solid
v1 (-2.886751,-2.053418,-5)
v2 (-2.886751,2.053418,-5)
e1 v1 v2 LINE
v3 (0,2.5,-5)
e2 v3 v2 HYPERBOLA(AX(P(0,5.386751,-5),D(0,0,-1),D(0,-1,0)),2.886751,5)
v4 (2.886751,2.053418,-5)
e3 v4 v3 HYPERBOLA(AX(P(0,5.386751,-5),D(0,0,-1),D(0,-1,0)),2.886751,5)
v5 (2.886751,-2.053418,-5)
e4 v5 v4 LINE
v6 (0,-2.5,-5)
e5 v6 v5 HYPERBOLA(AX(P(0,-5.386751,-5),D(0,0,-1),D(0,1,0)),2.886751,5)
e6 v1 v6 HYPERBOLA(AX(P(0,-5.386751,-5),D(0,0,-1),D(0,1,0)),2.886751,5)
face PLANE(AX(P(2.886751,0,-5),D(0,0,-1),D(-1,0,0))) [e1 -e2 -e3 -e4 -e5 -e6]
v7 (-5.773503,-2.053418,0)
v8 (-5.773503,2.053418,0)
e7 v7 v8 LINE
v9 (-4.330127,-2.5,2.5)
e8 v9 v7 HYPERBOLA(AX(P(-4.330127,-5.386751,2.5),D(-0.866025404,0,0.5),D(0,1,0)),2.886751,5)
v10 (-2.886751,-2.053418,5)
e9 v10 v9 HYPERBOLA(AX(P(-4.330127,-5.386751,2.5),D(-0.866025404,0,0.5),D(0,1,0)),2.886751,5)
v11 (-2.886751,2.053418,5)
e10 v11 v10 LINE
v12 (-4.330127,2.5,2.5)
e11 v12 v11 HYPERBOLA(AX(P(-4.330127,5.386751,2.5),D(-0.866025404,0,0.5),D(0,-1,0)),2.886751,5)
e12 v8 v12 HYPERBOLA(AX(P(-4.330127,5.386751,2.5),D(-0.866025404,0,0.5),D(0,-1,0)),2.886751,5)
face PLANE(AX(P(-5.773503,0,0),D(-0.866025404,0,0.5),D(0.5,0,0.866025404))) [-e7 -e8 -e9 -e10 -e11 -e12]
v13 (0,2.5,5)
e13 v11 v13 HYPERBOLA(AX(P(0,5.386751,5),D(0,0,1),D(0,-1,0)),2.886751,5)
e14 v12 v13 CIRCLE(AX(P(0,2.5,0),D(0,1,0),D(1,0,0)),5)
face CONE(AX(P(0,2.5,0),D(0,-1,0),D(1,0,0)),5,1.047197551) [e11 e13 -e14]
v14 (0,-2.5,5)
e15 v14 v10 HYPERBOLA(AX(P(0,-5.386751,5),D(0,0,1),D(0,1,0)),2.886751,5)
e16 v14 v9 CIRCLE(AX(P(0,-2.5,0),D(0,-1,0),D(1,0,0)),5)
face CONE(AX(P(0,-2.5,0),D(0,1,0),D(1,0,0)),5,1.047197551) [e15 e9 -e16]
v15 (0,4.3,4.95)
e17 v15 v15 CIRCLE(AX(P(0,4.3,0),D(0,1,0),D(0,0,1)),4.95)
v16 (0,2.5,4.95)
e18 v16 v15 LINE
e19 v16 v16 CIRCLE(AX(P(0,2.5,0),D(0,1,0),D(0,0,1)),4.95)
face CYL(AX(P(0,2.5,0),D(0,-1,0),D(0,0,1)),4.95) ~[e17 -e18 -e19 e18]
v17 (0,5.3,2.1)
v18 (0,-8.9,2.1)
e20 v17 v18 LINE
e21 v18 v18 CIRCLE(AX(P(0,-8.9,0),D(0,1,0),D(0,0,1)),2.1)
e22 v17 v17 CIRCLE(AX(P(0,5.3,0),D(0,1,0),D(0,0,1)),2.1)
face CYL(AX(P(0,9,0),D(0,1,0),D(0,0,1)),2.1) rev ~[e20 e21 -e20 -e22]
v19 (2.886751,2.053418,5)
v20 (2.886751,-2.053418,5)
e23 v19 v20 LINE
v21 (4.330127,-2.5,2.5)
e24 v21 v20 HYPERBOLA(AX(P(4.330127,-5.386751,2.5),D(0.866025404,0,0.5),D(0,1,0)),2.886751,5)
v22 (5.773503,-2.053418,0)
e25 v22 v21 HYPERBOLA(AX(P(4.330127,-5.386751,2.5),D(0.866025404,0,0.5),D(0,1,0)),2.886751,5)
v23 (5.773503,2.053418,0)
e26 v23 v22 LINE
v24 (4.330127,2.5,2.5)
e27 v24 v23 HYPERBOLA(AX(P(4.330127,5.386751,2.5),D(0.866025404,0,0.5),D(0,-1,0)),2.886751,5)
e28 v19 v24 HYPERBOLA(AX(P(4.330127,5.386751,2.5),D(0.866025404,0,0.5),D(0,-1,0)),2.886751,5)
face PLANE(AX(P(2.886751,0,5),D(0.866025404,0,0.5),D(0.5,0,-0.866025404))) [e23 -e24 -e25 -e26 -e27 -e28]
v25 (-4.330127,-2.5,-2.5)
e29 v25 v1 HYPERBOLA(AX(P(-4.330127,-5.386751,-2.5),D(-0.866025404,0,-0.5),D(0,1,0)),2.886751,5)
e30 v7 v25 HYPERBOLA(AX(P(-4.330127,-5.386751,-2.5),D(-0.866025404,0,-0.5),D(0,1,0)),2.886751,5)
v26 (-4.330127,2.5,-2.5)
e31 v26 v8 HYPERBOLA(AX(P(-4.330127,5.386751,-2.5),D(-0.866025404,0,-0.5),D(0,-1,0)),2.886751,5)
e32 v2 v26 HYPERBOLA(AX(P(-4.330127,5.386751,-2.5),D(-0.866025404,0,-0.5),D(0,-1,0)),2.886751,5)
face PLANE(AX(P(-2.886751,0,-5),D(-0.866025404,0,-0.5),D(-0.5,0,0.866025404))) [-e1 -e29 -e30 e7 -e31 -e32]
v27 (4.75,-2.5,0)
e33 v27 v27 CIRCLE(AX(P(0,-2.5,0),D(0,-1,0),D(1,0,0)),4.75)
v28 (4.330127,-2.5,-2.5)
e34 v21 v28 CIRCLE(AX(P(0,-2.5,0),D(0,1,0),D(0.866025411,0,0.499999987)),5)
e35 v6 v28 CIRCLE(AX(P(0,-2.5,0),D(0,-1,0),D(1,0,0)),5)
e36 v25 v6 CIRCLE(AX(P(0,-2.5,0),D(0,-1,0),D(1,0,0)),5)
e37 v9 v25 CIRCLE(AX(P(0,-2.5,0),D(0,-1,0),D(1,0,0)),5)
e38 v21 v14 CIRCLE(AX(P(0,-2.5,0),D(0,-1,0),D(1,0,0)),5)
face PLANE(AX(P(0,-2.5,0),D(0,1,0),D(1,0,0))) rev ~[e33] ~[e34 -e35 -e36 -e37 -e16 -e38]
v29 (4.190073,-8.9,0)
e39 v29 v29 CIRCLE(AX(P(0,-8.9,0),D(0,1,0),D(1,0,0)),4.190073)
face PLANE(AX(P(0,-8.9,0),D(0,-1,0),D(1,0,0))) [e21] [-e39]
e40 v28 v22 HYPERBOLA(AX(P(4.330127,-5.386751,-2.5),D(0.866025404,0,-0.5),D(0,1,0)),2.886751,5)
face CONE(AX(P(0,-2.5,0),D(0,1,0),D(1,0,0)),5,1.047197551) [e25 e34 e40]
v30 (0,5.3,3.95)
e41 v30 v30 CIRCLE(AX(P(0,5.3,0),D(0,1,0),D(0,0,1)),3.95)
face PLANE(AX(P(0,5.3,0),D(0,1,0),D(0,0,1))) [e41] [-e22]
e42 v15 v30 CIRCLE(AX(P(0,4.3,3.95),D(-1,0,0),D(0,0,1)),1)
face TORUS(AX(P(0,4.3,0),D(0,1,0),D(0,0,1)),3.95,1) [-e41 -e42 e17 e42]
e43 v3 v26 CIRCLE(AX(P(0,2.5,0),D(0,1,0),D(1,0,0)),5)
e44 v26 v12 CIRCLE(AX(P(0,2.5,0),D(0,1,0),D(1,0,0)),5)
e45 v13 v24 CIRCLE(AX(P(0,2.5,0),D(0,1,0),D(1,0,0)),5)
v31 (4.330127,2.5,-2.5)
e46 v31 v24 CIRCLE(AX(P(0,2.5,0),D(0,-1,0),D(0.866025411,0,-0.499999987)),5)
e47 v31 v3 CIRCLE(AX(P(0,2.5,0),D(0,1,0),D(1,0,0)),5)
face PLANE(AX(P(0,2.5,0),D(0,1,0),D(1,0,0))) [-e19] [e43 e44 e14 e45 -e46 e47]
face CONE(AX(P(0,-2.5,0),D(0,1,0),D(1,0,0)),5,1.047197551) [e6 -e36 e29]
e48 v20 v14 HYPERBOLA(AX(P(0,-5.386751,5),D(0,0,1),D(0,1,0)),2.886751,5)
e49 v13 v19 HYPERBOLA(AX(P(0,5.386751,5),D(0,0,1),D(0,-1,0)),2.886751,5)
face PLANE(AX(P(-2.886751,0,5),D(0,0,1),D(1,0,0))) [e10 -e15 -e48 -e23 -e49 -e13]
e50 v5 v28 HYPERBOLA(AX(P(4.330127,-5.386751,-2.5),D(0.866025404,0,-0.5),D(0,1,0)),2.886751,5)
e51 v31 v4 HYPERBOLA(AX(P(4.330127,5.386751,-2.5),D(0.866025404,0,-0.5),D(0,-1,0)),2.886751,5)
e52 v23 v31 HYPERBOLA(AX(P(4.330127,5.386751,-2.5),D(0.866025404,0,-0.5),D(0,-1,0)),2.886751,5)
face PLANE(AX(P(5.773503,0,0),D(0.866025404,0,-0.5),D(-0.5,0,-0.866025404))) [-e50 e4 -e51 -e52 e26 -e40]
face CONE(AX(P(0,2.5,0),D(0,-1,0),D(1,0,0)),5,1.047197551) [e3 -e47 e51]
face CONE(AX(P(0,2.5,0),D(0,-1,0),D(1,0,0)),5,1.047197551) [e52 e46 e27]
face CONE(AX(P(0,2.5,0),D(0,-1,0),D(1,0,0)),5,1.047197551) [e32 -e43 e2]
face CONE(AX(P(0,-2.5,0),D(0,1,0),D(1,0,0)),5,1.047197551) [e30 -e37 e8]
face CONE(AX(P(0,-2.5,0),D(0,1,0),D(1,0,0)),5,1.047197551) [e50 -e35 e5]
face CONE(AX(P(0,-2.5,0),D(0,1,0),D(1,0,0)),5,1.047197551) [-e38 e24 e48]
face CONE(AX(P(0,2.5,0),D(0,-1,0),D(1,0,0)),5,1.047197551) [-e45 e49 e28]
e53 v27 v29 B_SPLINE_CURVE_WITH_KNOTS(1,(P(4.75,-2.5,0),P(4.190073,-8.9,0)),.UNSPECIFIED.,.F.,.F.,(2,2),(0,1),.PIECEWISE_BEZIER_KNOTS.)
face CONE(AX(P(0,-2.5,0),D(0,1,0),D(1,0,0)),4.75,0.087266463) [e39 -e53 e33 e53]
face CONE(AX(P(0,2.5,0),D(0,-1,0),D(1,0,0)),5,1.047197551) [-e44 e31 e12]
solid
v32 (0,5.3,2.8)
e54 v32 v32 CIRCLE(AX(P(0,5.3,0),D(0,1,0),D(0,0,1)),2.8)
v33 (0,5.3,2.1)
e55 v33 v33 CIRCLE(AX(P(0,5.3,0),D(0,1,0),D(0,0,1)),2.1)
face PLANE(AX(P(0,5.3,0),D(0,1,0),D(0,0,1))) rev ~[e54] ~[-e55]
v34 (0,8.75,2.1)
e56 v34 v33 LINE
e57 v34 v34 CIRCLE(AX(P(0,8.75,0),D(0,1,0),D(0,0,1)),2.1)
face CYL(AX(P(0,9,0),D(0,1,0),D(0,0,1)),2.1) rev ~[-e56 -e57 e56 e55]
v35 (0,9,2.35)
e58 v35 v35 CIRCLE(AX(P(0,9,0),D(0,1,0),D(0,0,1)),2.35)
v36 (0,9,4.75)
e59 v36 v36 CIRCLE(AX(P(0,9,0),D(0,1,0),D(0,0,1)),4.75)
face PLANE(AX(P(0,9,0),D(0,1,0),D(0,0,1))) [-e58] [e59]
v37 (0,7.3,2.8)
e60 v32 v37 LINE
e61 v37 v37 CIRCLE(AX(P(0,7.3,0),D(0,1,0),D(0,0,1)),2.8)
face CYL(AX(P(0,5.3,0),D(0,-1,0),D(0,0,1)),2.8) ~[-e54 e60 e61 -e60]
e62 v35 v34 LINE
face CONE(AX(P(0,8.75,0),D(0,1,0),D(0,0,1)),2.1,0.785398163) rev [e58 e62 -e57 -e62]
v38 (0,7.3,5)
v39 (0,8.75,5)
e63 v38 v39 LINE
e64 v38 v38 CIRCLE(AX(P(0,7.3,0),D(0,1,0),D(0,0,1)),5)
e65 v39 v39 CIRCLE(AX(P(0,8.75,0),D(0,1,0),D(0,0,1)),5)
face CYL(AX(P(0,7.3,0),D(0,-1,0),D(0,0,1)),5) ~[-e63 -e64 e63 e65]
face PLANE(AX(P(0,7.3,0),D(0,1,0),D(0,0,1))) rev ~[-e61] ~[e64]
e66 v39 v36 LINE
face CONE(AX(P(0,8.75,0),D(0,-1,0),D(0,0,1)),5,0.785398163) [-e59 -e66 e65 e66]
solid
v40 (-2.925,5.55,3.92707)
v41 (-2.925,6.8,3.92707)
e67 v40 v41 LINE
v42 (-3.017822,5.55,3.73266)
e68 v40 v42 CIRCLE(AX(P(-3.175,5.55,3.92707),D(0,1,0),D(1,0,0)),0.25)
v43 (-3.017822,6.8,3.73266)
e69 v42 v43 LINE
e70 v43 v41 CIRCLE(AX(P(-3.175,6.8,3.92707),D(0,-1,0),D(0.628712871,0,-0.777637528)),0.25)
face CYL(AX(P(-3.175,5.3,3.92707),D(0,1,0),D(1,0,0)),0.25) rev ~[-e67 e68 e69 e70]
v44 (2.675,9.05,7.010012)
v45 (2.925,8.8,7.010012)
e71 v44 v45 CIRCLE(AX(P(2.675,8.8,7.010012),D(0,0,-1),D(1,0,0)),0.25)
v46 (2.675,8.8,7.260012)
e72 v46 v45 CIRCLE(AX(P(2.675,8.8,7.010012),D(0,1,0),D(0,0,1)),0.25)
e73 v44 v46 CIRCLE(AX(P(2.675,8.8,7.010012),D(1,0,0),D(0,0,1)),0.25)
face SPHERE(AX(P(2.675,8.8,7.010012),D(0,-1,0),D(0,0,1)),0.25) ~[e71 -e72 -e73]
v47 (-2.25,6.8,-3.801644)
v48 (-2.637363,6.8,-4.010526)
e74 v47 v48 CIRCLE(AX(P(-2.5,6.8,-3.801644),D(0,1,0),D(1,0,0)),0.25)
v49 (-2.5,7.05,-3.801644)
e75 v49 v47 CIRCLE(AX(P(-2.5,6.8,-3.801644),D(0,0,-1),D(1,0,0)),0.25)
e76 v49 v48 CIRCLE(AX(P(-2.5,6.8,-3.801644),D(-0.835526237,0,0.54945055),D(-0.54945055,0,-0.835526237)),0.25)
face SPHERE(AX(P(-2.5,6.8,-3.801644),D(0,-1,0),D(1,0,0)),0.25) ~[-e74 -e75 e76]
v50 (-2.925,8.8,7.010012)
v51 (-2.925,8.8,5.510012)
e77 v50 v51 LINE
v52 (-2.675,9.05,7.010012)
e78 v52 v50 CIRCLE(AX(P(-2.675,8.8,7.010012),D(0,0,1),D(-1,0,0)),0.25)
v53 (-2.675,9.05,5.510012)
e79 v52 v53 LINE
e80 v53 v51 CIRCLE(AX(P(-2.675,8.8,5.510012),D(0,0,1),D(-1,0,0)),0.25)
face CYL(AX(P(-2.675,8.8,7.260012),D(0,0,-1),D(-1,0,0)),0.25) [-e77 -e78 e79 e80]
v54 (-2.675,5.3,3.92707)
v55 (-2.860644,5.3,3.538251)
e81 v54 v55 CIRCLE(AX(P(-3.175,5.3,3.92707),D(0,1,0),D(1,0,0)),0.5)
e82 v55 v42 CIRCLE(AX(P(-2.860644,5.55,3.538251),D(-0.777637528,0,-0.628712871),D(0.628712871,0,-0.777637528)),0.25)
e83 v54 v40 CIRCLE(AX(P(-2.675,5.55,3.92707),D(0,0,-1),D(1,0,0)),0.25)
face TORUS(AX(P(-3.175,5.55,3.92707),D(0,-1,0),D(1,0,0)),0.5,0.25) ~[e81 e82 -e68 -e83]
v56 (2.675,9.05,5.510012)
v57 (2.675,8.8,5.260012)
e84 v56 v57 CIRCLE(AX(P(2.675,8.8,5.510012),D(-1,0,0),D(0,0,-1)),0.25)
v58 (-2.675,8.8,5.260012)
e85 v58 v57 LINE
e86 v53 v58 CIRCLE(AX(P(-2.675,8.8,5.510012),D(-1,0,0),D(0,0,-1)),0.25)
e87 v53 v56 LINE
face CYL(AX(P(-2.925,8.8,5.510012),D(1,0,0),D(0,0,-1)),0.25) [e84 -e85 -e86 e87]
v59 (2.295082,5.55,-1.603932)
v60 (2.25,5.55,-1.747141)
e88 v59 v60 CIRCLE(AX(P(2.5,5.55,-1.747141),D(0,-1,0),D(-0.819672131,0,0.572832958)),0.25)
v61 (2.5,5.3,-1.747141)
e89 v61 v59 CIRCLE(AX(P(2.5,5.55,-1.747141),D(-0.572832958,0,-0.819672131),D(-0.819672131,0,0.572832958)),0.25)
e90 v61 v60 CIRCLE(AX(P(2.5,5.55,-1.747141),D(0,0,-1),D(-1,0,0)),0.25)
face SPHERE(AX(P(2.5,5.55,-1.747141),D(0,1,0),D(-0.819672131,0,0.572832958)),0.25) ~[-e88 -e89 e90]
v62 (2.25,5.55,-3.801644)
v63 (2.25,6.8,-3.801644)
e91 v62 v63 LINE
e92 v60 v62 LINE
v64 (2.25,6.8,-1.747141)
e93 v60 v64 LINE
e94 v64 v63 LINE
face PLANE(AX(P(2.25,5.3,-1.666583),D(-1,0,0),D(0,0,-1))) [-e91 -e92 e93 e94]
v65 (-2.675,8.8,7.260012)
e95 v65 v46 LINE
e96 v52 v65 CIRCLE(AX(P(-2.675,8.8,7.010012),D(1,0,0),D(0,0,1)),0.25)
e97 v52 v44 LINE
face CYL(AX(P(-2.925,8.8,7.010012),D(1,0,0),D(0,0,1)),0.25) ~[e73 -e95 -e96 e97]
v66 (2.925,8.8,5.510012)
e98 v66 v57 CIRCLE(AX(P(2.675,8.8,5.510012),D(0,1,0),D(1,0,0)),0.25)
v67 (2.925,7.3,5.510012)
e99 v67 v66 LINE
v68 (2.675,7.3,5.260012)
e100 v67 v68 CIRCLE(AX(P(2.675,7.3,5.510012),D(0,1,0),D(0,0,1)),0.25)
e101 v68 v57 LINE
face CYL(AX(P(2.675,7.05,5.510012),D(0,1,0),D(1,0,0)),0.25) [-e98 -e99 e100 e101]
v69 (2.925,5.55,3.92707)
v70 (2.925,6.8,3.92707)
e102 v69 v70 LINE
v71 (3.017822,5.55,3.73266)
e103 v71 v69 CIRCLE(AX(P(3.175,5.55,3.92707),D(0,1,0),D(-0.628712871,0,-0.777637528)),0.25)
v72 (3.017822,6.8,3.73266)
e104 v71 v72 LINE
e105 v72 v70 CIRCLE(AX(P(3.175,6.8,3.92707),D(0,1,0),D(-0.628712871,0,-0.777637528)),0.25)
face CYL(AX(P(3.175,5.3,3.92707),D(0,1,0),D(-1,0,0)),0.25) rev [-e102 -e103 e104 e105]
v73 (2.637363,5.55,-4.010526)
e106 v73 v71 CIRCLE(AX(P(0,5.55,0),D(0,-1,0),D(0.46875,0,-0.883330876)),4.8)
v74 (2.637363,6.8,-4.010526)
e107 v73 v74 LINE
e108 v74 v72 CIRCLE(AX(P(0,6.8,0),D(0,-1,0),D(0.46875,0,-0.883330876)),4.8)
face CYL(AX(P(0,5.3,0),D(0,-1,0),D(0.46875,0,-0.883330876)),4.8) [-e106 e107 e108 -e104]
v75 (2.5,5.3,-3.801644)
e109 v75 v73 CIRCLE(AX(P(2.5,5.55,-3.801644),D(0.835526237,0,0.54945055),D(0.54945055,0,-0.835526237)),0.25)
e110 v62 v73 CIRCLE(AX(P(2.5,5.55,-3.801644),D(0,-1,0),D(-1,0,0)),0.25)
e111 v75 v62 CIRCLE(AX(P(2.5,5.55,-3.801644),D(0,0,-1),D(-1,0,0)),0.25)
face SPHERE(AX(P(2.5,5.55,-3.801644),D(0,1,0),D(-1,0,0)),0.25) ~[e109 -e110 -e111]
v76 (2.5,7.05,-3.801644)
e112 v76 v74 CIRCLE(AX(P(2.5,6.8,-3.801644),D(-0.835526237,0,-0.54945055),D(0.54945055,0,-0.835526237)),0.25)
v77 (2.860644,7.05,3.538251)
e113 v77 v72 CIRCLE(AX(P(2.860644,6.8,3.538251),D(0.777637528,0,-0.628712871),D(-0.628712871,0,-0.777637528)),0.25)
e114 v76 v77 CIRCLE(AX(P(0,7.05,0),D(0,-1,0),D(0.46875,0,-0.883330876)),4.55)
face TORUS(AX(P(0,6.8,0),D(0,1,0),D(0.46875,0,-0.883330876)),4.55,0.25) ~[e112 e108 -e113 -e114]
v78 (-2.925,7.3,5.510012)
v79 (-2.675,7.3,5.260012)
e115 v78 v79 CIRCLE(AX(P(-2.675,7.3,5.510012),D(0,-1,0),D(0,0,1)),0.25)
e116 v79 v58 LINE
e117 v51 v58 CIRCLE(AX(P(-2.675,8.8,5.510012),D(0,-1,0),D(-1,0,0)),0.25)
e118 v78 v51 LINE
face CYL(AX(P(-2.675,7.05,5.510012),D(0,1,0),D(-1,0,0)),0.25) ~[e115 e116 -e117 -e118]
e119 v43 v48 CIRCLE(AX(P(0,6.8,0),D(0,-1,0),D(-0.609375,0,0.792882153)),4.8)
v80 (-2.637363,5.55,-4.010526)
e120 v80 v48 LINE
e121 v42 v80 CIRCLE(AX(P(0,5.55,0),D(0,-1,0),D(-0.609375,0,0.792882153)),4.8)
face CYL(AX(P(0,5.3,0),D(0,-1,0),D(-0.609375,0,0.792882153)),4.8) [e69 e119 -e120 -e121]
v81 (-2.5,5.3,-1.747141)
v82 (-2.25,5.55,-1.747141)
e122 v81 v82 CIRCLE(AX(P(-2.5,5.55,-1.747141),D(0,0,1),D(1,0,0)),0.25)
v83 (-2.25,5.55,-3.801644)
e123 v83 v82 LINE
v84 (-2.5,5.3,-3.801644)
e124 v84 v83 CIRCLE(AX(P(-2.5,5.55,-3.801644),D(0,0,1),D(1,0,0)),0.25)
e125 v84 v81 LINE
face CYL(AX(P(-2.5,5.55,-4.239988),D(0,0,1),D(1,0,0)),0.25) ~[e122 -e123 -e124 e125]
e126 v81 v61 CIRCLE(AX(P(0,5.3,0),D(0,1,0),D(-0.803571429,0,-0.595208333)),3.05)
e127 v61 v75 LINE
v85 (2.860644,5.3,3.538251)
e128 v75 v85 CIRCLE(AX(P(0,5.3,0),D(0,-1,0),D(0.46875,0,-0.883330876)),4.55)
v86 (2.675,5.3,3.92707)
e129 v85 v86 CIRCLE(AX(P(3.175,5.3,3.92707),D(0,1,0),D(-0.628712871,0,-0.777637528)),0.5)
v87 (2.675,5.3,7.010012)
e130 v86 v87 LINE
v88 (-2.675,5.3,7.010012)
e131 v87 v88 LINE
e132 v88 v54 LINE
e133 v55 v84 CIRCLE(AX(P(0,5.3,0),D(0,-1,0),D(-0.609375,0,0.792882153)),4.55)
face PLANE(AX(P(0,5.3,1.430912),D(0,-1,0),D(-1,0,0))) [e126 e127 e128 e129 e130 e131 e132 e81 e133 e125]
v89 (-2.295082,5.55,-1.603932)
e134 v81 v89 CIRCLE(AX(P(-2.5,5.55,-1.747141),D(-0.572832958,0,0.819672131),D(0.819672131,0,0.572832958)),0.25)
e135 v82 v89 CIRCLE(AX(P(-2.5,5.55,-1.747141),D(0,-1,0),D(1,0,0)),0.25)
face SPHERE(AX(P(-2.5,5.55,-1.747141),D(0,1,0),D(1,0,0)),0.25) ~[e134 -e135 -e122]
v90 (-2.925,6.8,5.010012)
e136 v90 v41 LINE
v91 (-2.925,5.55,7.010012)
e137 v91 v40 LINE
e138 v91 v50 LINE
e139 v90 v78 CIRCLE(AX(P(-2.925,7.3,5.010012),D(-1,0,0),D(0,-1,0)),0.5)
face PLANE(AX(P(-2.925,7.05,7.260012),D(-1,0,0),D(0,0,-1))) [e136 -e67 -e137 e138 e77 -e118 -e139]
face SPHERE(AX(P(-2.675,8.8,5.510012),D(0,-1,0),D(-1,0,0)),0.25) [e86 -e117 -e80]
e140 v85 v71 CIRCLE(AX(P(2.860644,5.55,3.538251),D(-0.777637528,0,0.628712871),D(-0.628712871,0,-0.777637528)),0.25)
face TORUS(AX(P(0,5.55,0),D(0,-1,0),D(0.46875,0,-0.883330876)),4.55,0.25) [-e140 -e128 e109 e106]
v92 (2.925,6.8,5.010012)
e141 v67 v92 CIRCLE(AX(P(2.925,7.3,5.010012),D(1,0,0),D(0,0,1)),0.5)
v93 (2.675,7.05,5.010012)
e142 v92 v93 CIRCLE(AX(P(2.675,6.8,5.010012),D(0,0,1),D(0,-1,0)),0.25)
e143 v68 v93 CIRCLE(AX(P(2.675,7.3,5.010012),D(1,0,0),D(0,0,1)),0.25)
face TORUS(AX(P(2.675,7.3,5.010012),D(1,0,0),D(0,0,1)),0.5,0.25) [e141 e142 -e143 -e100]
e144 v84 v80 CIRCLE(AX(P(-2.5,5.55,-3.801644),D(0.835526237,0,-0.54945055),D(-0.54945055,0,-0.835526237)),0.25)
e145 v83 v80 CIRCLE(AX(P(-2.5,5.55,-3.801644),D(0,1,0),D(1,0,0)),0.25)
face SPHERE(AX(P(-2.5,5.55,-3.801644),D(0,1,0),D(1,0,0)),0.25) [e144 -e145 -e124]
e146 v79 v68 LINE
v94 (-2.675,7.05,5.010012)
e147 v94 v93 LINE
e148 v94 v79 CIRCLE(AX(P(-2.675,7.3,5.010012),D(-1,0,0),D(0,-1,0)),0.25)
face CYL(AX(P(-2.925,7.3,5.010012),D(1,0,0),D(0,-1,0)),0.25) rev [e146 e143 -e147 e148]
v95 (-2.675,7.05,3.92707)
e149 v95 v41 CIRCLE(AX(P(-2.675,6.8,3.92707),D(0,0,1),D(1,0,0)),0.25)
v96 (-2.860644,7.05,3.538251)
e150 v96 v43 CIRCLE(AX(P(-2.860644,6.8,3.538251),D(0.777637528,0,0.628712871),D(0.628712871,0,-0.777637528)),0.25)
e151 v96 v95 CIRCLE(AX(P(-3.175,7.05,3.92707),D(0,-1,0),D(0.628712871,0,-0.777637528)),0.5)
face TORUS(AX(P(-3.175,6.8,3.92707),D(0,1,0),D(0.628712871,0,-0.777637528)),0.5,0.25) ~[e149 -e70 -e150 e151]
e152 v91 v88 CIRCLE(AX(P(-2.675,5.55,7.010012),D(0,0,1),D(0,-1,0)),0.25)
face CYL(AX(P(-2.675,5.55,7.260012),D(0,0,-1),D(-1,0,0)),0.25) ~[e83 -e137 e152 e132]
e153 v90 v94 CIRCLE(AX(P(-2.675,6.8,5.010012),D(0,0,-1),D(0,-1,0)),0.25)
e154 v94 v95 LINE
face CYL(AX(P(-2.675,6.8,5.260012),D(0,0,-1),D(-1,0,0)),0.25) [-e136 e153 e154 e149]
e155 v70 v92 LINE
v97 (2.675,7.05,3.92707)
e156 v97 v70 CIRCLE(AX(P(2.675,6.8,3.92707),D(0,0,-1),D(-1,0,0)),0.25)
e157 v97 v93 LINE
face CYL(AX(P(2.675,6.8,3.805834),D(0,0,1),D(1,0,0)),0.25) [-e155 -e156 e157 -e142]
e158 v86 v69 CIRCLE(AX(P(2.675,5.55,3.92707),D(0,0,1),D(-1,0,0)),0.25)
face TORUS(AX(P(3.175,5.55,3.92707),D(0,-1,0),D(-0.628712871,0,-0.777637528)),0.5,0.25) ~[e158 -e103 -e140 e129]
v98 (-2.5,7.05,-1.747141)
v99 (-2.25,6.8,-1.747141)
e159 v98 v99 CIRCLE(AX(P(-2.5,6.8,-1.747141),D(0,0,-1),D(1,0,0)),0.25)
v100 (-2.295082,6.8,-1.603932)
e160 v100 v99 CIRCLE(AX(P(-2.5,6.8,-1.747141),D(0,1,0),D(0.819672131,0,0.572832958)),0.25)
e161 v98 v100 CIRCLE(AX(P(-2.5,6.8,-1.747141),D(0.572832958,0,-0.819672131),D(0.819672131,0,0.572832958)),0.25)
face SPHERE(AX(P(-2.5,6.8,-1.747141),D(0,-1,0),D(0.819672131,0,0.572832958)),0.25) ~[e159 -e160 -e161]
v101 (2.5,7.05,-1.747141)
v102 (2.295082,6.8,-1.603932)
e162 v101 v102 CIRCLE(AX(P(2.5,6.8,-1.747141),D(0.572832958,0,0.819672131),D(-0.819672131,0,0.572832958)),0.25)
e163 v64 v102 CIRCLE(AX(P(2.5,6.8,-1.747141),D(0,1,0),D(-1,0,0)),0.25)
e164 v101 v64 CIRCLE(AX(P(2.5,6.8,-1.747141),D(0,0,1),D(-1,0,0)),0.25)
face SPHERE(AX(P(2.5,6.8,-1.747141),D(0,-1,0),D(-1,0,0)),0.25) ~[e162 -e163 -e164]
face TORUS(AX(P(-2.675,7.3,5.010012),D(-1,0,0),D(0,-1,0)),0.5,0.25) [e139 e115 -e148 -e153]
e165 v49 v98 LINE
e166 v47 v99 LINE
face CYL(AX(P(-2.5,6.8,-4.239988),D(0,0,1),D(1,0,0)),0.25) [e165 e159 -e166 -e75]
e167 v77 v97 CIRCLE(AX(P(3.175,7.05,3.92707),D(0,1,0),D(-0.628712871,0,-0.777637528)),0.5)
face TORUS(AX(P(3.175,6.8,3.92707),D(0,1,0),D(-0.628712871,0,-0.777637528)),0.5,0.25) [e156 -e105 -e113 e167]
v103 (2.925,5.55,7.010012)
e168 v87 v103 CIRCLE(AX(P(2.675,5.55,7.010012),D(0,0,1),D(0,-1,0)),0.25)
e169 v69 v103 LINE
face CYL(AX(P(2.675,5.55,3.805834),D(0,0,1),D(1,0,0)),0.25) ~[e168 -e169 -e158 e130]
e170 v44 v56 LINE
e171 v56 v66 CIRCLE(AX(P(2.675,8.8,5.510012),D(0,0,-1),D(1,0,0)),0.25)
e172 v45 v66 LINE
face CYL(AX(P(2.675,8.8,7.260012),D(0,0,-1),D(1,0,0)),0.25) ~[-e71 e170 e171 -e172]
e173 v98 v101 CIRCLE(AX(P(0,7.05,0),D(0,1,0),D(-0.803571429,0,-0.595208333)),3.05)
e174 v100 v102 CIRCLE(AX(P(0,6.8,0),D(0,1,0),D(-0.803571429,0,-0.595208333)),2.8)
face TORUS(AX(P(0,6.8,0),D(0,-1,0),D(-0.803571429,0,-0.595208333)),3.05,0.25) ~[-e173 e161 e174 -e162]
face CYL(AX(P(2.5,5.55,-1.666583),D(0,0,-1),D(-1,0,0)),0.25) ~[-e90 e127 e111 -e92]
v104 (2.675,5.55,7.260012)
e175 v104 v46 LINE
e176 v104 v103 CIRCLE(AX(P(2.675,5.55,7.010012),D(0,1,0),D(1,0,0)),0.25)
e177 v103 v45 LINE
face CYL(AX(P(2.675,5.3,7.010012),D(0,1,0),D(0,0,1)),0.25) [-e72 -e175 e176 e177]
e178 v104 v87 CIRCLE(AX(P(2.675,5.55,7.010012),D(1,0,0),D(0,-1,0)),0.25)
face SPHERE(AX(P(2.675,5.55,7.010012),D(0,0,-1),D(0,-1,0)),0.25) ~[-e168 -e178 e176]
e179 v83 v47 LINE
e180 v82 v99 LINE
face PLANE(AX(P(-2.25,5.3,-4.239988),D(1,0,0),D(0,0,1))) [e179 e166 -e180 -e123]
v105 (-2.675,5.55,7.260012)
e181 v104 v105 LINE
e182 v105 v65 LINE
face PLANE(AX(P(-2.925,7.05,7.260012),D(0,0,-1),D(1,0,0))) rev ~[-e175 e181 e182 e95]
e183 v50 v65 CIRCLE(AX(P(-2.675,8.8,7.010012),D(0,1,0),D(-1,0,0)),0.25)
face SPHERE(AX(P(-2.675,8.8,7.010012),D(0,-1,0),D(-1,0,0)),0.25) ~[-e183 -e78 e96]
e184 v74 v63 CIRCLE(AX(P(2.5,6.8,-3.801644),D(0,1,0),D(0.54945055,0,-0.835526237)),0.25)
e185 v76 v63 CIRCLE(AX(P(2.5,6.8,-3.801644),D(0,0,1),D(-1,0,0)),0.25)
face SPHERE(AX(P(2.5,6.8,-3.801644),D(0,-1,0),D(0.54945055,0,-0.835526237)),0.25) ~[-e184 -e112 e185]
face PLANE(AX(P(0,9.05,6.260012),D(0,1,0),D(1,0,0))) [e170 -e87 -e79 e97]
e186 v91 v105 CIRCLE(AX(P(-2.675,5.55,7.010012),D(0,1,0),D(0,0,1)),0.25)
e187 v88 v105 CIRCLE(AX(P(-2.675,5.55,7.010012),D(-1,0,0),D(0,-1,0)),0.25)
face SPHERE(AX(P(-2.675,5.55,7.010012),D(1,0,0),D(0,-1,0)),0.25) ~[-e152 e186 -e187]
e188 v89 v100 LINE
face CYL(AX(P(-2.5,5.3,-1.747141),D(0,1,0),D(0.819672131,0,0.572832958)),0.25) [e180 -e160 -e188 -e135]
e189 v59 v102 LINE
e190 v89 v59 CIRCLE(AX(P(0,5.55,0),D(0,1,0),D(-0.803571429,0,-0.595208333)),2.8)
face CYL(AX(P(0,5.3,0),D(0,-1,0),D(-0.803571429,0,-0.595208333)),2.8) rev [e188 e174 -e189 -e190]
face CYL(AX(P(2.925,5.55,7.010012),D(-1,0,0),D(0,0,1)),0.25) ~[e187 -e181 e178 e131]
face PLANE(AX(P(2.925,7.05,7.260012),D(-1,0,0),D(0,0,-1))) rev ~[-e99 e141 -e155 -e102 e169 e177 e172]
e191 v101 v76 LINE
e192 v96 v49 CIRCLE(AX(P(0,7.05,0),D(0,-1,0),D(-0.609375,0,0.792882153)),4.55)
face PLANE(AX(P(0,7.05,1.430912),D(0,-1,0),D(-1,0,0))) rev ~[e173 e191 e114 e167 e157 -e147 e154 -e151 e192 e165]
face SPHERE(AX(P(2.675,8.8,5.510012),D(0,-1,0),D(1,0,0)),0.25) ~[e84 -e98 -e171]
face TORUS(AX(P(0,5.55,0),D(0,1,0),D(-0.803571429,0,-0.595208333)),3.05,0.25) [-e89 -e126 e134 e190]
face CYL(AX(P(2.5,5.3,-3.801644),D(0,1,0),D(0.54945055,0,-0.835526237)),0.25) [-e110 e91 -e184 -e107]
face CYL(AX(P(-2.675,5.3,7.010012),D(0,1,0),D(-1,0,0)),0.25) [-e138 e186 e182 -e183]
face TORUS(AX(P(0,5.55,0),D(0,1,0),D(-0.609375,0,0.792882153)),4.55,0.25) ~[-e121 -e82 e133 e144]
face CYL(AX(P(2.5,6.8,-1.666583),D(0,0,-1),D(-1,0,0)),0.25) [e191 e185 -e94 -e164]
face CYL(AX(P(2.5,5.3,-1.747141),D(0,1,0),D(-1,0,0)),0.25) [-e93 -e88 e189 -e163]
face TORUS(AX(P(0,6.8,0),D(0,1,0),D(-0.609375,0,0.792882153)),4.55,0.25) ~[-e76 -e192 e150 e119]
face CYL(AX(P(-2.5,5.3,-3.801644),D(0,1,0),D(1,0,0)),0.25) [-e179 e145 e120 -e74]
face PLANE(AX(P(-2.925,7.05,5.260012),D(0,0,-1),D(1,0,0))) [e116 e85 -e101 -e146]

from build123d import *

# Parameters (mm, degrees)
BOSS_EXTRUDE1_DEPTH     = 2.5
SKETCH2_OUTSIDE_W       = 26.462
SKETCH2_OUTSIDE_H       = 24.914
SKETCH2_OUTSIDE_R       = 5
CUT_EXTRUDE4_DEPTH      = 2.8
CUT_EXTRUDE4_DRAFT      = -60
MIRROR1_COPY_1_SKETCH_W = 26.462
MIRROR1_COPY_1_SKETCH_H = 24.914
MIRROR1_COPY_1_SKETCH_R = 5
MIRROR1_COPY_1_DEPTH    = 2.8
MIRROR1_COPY_1_DRAFT    = -60
SKETCH3_R               = 4.95
BOSS_EXTRUDE2_DEPTH     = 2.8
FILLET1_R               = 1
SKETCH4_R               = 2.8
BOSS_EXTRUDE3_DEPTH     = 2
SKETCH6_R               = 5
BOSS_EXTRUDE4_DEPTH     = 1.7
SKETCH8_R               = 4.75
BOSS_EXTRUDE5_DEPTH     = 6.4
BOSS_EXTRUDE5_TAPER     = 5
SKETCH7_R               = 2.1
CUT_EXTRUDE5_DEPTH      = 20.461329269
CHAMFER1_SIZE           = 0.25
BOSS_EXTRUDE6_DEPTH     = 1.75
SKETCH10_W              = 5.85
SKETCH10_H              = 2
BOSS_EXTRUDE7_DEPTH     = 2
FILLET2_R               = 0.25


with BuildPart() as part:
    # Sketch1 → Boss-Extrude1 (new, symmetric)
    with BuildSketch(Plane(origin=(0, 0, 0), x_dir=(1, 0, 0), z_dir=(0, 1, 0))):
        Polygon((5.773502692, 0), (2.886751346, 5), (-2.886751346, 5), (-5.773502692, 0), (-2.886751346, -5), (2.886751346, -5), align=None)
    extrude(amount=BOSS_EXTRUDE1_DEPTH, both=True)


with BuildPart() as cut_extrude4_tool:
    # Sketch2 outside → Cut-Extrude4 (with draft: the straight prism first)
    with BuildSketch(Plane(origin=(0, 2.5, 0), x_dir=(1, 0, 0), z_dir=(0, 1, 0))):
        Rectangle(SKETCH2_OUTSIDE_W, SKETCH2_OUTSIDE_H)
        Circle(SKETCH2_OUTSIDE_R, mode=Mode.SUBTRACT)
    extrude(amount=-CUT_EXTRUDE4_DEPTH)
    # Cut-Extrude4: the draft: its side faces are tilted about the plane it starts from
    cut_extrude4_sides = [cut_extrude4_tool.faces().sort_by_distance(p)[0] for p in [
        (0, 1.1, 12.457),
        (13.231, 1.1, 0),
        (0, 1.1, -12.457),
        (-13.231, 1.1, 0),
        (-5, 1.1, 0),
    ]]
    draft(cut_extrude4_sides, Plane(origin=(0, 2.5, 0), x_dir=(1, 0, 0), z_dir=(0, 1, 0)), CUT_EXTRUDE4_DRAFT)


with BuildPart() as part_1:
    add(part.part)

    # Cut-Extrude4: cut by cut_extrude4_tool
    add(cut_extrude4_tool.part, mode=Mode.SUBTRACT)


with BuildPart() as mirror1_copy_1_tool:
    # Mirror1 copy 1 sketch → Mirror1 copy 1 (with draft: the straight prism first)
    with BuildSketch(Plane.XZ.offset(2.5)):
        Rectangle(MIRROR1_COPY_1_SKETCH_W, MIRROR1_COPY_1_SKETCH_H)
        Circle(MIRROR1_COPY_1_SKETCH_R, mode=Mode.SUBTRACT)
    extrude(amount=-MIRROR1_COPY_1_DEPTH)
    # Mirror1 copy 1: the draft: its side faces are tilted about the plane it starts from
    mirror1_copy_1_sides = [mirror1_copy_1_tool.faces().sort_by_distance(p)[0] for p in [
        (0, -1.1, 12.457),
        (13.231, -1.1, 0),
        (0, -1.1, -12.457),
        (-13.231, -1.1, 0),
        (-5, -1.1, 0),
    ]]
    draft(mirror1_copy_1_sides, Plane.XZ.offset(2.5), MIRROR1_COPY_1_DRAFT)


with BuildPart() as part_2:
    add(part_1.part)

    # Mirror1 copy 1: cut by mirror1_copy_1_tool
    add(mirror1_copy_1_tool.part, mode=Mode.SUBTRACT)

    # Sketch3 → Boss-Extrude2 (add)
    with BuildSketch(Plane(origin=(0, 2.5, 0), x_dir=(1, 0, 0), z_dir=(0, 1, 0))):
        with Locations(Location((0, 0, 0), (0, 0, 270))):
            Circle(SKETCH3_R)
    extrude(amount=BOSS_EXTRUDE2_DEPTH)

    # Fillet1
    fillet1_edges = [part_2.edges().sort_by_distance(p)[0] for p in [
        (0, 5.3, -4.95),
    ]]
    fillet(fillet1_edges, radius=FILLET1_R)

    # Sketch8 → Boss-Extrude5 (add)
    with BuildSketch(Plane.XZ.offset(2.5)):
        Circle(SKETCH8_R)
    extrude(amount=BOSS_EXTRUDE5_DEPTH, taper=BOSS_EXTRUDE5_TAPER)


with BuildPart() as body_2:
    # Sketch4 → Boss-Extrude3 (new body)
    with BuildSketch(Plane(origin=(0, 5.3, 0), x_dir=(1, 0, 0), z_dir=(0, 1, 0))):
        with Locations(Location((0, 0, 0), (0, 0, 270))):
            Circle(SKETCH4_R)
    extrude(amount=BOSS_EXTRUDE3_DEPTH)

    # Sketch6 → Boss-Extrude4 (add)
    with BuildSketch(Plane(origin=(0, 7.3, 0), x_dir=(1, 0, 0), z_dir=(0, 1, 0))):
        with Locations(Location((0, 0, 0), (0, 0, 270))):
            Circle(SKETCH6_R)
    extrude(amount=BOSS_EXTRUDE4_DEPTH)


with BuildPart() as cut_extrude5_tool:
    # Sketch7 → Cut-Extrude5 (new, through all)
    with BuildSketch(Plane(origin=(0, 9, 0), x_dir=(1, 0, 0), z_dir=(0, 1, 0))):
        with Locations(Location((0, 0, 0), (0, 0, 270))):
            Circle(SKETCH7_R)
    extrude(amount=-CUT_EXTRUDE5_DEPTH)


with BuildPart() as part_3:
    add(part_2.part)

    # Cut-Extrude5: cut by cut_extrude5_tool
    add(cut_extrude5_tool.part, mode=Mode.SUBTRACT)


with BuildPart() as body_2_1:
    add(body_2.part)

    # Cut-Extrude5: cut by cut_extrude5_tool
    add(cut_extrude5_tool.part, mode=Mode.SUBTRACT)

    # Chamfer1
    chamfer1_edges = [body_2_1.edges().sort_by_distance(p)[0] for p in [
        (0, 9, -2.1),
        (0, 9, -5),
    ]]
    chamfer(chamfer1_edges, length=CHAMFER1_SIZE)


with BuildPart() as body_3:
    # Sketch9 → Boss-Extrude6 (new body)
    with BuildSketch(Plane(origin=(0, 5.3, 0), x_dir=(1, 0, 0), z_dir=(0, 1, 0))):
        with BuildLine():
            Line((-2.25, 4.239988208), (-2.25, 1.666583331))
            ThreePointArc((-2.25, 1.666583331), (0, -2.8), (2.25, 1.666583331))
            Line((2.25, 1.666583331), (2.25, 4.239988208))
            ThreePointArc((2.25, 4.239988208), (4.783196771, 0.401283747), (2.925, -3.805834337))
            Line((2.925, -3.805834337), (2.925, -7.260011792))
            Line((2.925, -7.260011792), (-2.925, -7.260011792))
            Line((-2.925, -7.260011792), (-2.925, -3.805834337))
            ThreePointArc((-2.925, -3.805834337), (-4.783196771, 0.401283747), (-2.25, 4.239988208))
        make_face()
    extrude(amount=BOSS_EXTRUDE6_DEPTH)

    # Sketch10 → Boss-Extrude7 (add)
    with BuildSketch(Plane(origin=(0, 7.05, 0), x_dir=(1, 0, 0), z_dir=(0, 1, 0))):
        with Locations((0, -6.260011792)):
            Rectangle(SKETCH10_W, SKETCH10_H)
    extrude(amount=BOSS_EXTRUDE7_DEPTH)

    # Fillet2
    fillet2_edges = [body_3.edges().sort_by_distance(p)[0] for p in [
        (2.925, 5.3, 5.532923065),
        (0, 5.3, 7.260011792),
        (-2.925, 5.3, 5.532923065),
        (-4.783196771, 5.3, -0.401283747),
        (-2.25, 6.175, -4.239988208),
        (-2.25, 6.175, -1.666583331),
        (2.25, 6.175, -1.666583331),
        (2.25, 6.175, -4.239988208),
        (2.925, 6.175, 3.805834337),
        (2.925, 7.175, 7.260011792),
        (-2.925, 7.175, 7.260011792),
        (-2.925, 6.175, 3.805834337),
        (4.783196771, 7.05, -0.401283747),
        (2.25, 7.05, -2.953285769),
        (2.925, 7.05, 4.532923065),
        (-2.925, 8.05, 5.260011792),
        (0, 7.05, 5.260011792),
        (2.925, 8.05, 5.260011792),
        (-2.925, 9.05, 6.260011792),
        (0, 9.05, 7.260011792),
        (0, 7.05, 2.8),
        (2.925, 9.05, 6.260011792),
        (0, 9.05, 5.260011792),
        (-2.25, 7.05, -2.953285769),
        (-4.783196771, 7.05, -0.401283747),
        (-2.25, 5.3, -2.953285769),
        (-2.925, 7.05, 4.532923065),
        (0, 5.3, 2.8),
        (2.25, 5.3, -2.953285769),
        (4.783196771, 5.3, -0.401283747),
    ]]
    fillet(fillet2_edges, radius=FILLET2_R)


solid = Compound([part_3.part, body_2_1.part, body_3.part])
